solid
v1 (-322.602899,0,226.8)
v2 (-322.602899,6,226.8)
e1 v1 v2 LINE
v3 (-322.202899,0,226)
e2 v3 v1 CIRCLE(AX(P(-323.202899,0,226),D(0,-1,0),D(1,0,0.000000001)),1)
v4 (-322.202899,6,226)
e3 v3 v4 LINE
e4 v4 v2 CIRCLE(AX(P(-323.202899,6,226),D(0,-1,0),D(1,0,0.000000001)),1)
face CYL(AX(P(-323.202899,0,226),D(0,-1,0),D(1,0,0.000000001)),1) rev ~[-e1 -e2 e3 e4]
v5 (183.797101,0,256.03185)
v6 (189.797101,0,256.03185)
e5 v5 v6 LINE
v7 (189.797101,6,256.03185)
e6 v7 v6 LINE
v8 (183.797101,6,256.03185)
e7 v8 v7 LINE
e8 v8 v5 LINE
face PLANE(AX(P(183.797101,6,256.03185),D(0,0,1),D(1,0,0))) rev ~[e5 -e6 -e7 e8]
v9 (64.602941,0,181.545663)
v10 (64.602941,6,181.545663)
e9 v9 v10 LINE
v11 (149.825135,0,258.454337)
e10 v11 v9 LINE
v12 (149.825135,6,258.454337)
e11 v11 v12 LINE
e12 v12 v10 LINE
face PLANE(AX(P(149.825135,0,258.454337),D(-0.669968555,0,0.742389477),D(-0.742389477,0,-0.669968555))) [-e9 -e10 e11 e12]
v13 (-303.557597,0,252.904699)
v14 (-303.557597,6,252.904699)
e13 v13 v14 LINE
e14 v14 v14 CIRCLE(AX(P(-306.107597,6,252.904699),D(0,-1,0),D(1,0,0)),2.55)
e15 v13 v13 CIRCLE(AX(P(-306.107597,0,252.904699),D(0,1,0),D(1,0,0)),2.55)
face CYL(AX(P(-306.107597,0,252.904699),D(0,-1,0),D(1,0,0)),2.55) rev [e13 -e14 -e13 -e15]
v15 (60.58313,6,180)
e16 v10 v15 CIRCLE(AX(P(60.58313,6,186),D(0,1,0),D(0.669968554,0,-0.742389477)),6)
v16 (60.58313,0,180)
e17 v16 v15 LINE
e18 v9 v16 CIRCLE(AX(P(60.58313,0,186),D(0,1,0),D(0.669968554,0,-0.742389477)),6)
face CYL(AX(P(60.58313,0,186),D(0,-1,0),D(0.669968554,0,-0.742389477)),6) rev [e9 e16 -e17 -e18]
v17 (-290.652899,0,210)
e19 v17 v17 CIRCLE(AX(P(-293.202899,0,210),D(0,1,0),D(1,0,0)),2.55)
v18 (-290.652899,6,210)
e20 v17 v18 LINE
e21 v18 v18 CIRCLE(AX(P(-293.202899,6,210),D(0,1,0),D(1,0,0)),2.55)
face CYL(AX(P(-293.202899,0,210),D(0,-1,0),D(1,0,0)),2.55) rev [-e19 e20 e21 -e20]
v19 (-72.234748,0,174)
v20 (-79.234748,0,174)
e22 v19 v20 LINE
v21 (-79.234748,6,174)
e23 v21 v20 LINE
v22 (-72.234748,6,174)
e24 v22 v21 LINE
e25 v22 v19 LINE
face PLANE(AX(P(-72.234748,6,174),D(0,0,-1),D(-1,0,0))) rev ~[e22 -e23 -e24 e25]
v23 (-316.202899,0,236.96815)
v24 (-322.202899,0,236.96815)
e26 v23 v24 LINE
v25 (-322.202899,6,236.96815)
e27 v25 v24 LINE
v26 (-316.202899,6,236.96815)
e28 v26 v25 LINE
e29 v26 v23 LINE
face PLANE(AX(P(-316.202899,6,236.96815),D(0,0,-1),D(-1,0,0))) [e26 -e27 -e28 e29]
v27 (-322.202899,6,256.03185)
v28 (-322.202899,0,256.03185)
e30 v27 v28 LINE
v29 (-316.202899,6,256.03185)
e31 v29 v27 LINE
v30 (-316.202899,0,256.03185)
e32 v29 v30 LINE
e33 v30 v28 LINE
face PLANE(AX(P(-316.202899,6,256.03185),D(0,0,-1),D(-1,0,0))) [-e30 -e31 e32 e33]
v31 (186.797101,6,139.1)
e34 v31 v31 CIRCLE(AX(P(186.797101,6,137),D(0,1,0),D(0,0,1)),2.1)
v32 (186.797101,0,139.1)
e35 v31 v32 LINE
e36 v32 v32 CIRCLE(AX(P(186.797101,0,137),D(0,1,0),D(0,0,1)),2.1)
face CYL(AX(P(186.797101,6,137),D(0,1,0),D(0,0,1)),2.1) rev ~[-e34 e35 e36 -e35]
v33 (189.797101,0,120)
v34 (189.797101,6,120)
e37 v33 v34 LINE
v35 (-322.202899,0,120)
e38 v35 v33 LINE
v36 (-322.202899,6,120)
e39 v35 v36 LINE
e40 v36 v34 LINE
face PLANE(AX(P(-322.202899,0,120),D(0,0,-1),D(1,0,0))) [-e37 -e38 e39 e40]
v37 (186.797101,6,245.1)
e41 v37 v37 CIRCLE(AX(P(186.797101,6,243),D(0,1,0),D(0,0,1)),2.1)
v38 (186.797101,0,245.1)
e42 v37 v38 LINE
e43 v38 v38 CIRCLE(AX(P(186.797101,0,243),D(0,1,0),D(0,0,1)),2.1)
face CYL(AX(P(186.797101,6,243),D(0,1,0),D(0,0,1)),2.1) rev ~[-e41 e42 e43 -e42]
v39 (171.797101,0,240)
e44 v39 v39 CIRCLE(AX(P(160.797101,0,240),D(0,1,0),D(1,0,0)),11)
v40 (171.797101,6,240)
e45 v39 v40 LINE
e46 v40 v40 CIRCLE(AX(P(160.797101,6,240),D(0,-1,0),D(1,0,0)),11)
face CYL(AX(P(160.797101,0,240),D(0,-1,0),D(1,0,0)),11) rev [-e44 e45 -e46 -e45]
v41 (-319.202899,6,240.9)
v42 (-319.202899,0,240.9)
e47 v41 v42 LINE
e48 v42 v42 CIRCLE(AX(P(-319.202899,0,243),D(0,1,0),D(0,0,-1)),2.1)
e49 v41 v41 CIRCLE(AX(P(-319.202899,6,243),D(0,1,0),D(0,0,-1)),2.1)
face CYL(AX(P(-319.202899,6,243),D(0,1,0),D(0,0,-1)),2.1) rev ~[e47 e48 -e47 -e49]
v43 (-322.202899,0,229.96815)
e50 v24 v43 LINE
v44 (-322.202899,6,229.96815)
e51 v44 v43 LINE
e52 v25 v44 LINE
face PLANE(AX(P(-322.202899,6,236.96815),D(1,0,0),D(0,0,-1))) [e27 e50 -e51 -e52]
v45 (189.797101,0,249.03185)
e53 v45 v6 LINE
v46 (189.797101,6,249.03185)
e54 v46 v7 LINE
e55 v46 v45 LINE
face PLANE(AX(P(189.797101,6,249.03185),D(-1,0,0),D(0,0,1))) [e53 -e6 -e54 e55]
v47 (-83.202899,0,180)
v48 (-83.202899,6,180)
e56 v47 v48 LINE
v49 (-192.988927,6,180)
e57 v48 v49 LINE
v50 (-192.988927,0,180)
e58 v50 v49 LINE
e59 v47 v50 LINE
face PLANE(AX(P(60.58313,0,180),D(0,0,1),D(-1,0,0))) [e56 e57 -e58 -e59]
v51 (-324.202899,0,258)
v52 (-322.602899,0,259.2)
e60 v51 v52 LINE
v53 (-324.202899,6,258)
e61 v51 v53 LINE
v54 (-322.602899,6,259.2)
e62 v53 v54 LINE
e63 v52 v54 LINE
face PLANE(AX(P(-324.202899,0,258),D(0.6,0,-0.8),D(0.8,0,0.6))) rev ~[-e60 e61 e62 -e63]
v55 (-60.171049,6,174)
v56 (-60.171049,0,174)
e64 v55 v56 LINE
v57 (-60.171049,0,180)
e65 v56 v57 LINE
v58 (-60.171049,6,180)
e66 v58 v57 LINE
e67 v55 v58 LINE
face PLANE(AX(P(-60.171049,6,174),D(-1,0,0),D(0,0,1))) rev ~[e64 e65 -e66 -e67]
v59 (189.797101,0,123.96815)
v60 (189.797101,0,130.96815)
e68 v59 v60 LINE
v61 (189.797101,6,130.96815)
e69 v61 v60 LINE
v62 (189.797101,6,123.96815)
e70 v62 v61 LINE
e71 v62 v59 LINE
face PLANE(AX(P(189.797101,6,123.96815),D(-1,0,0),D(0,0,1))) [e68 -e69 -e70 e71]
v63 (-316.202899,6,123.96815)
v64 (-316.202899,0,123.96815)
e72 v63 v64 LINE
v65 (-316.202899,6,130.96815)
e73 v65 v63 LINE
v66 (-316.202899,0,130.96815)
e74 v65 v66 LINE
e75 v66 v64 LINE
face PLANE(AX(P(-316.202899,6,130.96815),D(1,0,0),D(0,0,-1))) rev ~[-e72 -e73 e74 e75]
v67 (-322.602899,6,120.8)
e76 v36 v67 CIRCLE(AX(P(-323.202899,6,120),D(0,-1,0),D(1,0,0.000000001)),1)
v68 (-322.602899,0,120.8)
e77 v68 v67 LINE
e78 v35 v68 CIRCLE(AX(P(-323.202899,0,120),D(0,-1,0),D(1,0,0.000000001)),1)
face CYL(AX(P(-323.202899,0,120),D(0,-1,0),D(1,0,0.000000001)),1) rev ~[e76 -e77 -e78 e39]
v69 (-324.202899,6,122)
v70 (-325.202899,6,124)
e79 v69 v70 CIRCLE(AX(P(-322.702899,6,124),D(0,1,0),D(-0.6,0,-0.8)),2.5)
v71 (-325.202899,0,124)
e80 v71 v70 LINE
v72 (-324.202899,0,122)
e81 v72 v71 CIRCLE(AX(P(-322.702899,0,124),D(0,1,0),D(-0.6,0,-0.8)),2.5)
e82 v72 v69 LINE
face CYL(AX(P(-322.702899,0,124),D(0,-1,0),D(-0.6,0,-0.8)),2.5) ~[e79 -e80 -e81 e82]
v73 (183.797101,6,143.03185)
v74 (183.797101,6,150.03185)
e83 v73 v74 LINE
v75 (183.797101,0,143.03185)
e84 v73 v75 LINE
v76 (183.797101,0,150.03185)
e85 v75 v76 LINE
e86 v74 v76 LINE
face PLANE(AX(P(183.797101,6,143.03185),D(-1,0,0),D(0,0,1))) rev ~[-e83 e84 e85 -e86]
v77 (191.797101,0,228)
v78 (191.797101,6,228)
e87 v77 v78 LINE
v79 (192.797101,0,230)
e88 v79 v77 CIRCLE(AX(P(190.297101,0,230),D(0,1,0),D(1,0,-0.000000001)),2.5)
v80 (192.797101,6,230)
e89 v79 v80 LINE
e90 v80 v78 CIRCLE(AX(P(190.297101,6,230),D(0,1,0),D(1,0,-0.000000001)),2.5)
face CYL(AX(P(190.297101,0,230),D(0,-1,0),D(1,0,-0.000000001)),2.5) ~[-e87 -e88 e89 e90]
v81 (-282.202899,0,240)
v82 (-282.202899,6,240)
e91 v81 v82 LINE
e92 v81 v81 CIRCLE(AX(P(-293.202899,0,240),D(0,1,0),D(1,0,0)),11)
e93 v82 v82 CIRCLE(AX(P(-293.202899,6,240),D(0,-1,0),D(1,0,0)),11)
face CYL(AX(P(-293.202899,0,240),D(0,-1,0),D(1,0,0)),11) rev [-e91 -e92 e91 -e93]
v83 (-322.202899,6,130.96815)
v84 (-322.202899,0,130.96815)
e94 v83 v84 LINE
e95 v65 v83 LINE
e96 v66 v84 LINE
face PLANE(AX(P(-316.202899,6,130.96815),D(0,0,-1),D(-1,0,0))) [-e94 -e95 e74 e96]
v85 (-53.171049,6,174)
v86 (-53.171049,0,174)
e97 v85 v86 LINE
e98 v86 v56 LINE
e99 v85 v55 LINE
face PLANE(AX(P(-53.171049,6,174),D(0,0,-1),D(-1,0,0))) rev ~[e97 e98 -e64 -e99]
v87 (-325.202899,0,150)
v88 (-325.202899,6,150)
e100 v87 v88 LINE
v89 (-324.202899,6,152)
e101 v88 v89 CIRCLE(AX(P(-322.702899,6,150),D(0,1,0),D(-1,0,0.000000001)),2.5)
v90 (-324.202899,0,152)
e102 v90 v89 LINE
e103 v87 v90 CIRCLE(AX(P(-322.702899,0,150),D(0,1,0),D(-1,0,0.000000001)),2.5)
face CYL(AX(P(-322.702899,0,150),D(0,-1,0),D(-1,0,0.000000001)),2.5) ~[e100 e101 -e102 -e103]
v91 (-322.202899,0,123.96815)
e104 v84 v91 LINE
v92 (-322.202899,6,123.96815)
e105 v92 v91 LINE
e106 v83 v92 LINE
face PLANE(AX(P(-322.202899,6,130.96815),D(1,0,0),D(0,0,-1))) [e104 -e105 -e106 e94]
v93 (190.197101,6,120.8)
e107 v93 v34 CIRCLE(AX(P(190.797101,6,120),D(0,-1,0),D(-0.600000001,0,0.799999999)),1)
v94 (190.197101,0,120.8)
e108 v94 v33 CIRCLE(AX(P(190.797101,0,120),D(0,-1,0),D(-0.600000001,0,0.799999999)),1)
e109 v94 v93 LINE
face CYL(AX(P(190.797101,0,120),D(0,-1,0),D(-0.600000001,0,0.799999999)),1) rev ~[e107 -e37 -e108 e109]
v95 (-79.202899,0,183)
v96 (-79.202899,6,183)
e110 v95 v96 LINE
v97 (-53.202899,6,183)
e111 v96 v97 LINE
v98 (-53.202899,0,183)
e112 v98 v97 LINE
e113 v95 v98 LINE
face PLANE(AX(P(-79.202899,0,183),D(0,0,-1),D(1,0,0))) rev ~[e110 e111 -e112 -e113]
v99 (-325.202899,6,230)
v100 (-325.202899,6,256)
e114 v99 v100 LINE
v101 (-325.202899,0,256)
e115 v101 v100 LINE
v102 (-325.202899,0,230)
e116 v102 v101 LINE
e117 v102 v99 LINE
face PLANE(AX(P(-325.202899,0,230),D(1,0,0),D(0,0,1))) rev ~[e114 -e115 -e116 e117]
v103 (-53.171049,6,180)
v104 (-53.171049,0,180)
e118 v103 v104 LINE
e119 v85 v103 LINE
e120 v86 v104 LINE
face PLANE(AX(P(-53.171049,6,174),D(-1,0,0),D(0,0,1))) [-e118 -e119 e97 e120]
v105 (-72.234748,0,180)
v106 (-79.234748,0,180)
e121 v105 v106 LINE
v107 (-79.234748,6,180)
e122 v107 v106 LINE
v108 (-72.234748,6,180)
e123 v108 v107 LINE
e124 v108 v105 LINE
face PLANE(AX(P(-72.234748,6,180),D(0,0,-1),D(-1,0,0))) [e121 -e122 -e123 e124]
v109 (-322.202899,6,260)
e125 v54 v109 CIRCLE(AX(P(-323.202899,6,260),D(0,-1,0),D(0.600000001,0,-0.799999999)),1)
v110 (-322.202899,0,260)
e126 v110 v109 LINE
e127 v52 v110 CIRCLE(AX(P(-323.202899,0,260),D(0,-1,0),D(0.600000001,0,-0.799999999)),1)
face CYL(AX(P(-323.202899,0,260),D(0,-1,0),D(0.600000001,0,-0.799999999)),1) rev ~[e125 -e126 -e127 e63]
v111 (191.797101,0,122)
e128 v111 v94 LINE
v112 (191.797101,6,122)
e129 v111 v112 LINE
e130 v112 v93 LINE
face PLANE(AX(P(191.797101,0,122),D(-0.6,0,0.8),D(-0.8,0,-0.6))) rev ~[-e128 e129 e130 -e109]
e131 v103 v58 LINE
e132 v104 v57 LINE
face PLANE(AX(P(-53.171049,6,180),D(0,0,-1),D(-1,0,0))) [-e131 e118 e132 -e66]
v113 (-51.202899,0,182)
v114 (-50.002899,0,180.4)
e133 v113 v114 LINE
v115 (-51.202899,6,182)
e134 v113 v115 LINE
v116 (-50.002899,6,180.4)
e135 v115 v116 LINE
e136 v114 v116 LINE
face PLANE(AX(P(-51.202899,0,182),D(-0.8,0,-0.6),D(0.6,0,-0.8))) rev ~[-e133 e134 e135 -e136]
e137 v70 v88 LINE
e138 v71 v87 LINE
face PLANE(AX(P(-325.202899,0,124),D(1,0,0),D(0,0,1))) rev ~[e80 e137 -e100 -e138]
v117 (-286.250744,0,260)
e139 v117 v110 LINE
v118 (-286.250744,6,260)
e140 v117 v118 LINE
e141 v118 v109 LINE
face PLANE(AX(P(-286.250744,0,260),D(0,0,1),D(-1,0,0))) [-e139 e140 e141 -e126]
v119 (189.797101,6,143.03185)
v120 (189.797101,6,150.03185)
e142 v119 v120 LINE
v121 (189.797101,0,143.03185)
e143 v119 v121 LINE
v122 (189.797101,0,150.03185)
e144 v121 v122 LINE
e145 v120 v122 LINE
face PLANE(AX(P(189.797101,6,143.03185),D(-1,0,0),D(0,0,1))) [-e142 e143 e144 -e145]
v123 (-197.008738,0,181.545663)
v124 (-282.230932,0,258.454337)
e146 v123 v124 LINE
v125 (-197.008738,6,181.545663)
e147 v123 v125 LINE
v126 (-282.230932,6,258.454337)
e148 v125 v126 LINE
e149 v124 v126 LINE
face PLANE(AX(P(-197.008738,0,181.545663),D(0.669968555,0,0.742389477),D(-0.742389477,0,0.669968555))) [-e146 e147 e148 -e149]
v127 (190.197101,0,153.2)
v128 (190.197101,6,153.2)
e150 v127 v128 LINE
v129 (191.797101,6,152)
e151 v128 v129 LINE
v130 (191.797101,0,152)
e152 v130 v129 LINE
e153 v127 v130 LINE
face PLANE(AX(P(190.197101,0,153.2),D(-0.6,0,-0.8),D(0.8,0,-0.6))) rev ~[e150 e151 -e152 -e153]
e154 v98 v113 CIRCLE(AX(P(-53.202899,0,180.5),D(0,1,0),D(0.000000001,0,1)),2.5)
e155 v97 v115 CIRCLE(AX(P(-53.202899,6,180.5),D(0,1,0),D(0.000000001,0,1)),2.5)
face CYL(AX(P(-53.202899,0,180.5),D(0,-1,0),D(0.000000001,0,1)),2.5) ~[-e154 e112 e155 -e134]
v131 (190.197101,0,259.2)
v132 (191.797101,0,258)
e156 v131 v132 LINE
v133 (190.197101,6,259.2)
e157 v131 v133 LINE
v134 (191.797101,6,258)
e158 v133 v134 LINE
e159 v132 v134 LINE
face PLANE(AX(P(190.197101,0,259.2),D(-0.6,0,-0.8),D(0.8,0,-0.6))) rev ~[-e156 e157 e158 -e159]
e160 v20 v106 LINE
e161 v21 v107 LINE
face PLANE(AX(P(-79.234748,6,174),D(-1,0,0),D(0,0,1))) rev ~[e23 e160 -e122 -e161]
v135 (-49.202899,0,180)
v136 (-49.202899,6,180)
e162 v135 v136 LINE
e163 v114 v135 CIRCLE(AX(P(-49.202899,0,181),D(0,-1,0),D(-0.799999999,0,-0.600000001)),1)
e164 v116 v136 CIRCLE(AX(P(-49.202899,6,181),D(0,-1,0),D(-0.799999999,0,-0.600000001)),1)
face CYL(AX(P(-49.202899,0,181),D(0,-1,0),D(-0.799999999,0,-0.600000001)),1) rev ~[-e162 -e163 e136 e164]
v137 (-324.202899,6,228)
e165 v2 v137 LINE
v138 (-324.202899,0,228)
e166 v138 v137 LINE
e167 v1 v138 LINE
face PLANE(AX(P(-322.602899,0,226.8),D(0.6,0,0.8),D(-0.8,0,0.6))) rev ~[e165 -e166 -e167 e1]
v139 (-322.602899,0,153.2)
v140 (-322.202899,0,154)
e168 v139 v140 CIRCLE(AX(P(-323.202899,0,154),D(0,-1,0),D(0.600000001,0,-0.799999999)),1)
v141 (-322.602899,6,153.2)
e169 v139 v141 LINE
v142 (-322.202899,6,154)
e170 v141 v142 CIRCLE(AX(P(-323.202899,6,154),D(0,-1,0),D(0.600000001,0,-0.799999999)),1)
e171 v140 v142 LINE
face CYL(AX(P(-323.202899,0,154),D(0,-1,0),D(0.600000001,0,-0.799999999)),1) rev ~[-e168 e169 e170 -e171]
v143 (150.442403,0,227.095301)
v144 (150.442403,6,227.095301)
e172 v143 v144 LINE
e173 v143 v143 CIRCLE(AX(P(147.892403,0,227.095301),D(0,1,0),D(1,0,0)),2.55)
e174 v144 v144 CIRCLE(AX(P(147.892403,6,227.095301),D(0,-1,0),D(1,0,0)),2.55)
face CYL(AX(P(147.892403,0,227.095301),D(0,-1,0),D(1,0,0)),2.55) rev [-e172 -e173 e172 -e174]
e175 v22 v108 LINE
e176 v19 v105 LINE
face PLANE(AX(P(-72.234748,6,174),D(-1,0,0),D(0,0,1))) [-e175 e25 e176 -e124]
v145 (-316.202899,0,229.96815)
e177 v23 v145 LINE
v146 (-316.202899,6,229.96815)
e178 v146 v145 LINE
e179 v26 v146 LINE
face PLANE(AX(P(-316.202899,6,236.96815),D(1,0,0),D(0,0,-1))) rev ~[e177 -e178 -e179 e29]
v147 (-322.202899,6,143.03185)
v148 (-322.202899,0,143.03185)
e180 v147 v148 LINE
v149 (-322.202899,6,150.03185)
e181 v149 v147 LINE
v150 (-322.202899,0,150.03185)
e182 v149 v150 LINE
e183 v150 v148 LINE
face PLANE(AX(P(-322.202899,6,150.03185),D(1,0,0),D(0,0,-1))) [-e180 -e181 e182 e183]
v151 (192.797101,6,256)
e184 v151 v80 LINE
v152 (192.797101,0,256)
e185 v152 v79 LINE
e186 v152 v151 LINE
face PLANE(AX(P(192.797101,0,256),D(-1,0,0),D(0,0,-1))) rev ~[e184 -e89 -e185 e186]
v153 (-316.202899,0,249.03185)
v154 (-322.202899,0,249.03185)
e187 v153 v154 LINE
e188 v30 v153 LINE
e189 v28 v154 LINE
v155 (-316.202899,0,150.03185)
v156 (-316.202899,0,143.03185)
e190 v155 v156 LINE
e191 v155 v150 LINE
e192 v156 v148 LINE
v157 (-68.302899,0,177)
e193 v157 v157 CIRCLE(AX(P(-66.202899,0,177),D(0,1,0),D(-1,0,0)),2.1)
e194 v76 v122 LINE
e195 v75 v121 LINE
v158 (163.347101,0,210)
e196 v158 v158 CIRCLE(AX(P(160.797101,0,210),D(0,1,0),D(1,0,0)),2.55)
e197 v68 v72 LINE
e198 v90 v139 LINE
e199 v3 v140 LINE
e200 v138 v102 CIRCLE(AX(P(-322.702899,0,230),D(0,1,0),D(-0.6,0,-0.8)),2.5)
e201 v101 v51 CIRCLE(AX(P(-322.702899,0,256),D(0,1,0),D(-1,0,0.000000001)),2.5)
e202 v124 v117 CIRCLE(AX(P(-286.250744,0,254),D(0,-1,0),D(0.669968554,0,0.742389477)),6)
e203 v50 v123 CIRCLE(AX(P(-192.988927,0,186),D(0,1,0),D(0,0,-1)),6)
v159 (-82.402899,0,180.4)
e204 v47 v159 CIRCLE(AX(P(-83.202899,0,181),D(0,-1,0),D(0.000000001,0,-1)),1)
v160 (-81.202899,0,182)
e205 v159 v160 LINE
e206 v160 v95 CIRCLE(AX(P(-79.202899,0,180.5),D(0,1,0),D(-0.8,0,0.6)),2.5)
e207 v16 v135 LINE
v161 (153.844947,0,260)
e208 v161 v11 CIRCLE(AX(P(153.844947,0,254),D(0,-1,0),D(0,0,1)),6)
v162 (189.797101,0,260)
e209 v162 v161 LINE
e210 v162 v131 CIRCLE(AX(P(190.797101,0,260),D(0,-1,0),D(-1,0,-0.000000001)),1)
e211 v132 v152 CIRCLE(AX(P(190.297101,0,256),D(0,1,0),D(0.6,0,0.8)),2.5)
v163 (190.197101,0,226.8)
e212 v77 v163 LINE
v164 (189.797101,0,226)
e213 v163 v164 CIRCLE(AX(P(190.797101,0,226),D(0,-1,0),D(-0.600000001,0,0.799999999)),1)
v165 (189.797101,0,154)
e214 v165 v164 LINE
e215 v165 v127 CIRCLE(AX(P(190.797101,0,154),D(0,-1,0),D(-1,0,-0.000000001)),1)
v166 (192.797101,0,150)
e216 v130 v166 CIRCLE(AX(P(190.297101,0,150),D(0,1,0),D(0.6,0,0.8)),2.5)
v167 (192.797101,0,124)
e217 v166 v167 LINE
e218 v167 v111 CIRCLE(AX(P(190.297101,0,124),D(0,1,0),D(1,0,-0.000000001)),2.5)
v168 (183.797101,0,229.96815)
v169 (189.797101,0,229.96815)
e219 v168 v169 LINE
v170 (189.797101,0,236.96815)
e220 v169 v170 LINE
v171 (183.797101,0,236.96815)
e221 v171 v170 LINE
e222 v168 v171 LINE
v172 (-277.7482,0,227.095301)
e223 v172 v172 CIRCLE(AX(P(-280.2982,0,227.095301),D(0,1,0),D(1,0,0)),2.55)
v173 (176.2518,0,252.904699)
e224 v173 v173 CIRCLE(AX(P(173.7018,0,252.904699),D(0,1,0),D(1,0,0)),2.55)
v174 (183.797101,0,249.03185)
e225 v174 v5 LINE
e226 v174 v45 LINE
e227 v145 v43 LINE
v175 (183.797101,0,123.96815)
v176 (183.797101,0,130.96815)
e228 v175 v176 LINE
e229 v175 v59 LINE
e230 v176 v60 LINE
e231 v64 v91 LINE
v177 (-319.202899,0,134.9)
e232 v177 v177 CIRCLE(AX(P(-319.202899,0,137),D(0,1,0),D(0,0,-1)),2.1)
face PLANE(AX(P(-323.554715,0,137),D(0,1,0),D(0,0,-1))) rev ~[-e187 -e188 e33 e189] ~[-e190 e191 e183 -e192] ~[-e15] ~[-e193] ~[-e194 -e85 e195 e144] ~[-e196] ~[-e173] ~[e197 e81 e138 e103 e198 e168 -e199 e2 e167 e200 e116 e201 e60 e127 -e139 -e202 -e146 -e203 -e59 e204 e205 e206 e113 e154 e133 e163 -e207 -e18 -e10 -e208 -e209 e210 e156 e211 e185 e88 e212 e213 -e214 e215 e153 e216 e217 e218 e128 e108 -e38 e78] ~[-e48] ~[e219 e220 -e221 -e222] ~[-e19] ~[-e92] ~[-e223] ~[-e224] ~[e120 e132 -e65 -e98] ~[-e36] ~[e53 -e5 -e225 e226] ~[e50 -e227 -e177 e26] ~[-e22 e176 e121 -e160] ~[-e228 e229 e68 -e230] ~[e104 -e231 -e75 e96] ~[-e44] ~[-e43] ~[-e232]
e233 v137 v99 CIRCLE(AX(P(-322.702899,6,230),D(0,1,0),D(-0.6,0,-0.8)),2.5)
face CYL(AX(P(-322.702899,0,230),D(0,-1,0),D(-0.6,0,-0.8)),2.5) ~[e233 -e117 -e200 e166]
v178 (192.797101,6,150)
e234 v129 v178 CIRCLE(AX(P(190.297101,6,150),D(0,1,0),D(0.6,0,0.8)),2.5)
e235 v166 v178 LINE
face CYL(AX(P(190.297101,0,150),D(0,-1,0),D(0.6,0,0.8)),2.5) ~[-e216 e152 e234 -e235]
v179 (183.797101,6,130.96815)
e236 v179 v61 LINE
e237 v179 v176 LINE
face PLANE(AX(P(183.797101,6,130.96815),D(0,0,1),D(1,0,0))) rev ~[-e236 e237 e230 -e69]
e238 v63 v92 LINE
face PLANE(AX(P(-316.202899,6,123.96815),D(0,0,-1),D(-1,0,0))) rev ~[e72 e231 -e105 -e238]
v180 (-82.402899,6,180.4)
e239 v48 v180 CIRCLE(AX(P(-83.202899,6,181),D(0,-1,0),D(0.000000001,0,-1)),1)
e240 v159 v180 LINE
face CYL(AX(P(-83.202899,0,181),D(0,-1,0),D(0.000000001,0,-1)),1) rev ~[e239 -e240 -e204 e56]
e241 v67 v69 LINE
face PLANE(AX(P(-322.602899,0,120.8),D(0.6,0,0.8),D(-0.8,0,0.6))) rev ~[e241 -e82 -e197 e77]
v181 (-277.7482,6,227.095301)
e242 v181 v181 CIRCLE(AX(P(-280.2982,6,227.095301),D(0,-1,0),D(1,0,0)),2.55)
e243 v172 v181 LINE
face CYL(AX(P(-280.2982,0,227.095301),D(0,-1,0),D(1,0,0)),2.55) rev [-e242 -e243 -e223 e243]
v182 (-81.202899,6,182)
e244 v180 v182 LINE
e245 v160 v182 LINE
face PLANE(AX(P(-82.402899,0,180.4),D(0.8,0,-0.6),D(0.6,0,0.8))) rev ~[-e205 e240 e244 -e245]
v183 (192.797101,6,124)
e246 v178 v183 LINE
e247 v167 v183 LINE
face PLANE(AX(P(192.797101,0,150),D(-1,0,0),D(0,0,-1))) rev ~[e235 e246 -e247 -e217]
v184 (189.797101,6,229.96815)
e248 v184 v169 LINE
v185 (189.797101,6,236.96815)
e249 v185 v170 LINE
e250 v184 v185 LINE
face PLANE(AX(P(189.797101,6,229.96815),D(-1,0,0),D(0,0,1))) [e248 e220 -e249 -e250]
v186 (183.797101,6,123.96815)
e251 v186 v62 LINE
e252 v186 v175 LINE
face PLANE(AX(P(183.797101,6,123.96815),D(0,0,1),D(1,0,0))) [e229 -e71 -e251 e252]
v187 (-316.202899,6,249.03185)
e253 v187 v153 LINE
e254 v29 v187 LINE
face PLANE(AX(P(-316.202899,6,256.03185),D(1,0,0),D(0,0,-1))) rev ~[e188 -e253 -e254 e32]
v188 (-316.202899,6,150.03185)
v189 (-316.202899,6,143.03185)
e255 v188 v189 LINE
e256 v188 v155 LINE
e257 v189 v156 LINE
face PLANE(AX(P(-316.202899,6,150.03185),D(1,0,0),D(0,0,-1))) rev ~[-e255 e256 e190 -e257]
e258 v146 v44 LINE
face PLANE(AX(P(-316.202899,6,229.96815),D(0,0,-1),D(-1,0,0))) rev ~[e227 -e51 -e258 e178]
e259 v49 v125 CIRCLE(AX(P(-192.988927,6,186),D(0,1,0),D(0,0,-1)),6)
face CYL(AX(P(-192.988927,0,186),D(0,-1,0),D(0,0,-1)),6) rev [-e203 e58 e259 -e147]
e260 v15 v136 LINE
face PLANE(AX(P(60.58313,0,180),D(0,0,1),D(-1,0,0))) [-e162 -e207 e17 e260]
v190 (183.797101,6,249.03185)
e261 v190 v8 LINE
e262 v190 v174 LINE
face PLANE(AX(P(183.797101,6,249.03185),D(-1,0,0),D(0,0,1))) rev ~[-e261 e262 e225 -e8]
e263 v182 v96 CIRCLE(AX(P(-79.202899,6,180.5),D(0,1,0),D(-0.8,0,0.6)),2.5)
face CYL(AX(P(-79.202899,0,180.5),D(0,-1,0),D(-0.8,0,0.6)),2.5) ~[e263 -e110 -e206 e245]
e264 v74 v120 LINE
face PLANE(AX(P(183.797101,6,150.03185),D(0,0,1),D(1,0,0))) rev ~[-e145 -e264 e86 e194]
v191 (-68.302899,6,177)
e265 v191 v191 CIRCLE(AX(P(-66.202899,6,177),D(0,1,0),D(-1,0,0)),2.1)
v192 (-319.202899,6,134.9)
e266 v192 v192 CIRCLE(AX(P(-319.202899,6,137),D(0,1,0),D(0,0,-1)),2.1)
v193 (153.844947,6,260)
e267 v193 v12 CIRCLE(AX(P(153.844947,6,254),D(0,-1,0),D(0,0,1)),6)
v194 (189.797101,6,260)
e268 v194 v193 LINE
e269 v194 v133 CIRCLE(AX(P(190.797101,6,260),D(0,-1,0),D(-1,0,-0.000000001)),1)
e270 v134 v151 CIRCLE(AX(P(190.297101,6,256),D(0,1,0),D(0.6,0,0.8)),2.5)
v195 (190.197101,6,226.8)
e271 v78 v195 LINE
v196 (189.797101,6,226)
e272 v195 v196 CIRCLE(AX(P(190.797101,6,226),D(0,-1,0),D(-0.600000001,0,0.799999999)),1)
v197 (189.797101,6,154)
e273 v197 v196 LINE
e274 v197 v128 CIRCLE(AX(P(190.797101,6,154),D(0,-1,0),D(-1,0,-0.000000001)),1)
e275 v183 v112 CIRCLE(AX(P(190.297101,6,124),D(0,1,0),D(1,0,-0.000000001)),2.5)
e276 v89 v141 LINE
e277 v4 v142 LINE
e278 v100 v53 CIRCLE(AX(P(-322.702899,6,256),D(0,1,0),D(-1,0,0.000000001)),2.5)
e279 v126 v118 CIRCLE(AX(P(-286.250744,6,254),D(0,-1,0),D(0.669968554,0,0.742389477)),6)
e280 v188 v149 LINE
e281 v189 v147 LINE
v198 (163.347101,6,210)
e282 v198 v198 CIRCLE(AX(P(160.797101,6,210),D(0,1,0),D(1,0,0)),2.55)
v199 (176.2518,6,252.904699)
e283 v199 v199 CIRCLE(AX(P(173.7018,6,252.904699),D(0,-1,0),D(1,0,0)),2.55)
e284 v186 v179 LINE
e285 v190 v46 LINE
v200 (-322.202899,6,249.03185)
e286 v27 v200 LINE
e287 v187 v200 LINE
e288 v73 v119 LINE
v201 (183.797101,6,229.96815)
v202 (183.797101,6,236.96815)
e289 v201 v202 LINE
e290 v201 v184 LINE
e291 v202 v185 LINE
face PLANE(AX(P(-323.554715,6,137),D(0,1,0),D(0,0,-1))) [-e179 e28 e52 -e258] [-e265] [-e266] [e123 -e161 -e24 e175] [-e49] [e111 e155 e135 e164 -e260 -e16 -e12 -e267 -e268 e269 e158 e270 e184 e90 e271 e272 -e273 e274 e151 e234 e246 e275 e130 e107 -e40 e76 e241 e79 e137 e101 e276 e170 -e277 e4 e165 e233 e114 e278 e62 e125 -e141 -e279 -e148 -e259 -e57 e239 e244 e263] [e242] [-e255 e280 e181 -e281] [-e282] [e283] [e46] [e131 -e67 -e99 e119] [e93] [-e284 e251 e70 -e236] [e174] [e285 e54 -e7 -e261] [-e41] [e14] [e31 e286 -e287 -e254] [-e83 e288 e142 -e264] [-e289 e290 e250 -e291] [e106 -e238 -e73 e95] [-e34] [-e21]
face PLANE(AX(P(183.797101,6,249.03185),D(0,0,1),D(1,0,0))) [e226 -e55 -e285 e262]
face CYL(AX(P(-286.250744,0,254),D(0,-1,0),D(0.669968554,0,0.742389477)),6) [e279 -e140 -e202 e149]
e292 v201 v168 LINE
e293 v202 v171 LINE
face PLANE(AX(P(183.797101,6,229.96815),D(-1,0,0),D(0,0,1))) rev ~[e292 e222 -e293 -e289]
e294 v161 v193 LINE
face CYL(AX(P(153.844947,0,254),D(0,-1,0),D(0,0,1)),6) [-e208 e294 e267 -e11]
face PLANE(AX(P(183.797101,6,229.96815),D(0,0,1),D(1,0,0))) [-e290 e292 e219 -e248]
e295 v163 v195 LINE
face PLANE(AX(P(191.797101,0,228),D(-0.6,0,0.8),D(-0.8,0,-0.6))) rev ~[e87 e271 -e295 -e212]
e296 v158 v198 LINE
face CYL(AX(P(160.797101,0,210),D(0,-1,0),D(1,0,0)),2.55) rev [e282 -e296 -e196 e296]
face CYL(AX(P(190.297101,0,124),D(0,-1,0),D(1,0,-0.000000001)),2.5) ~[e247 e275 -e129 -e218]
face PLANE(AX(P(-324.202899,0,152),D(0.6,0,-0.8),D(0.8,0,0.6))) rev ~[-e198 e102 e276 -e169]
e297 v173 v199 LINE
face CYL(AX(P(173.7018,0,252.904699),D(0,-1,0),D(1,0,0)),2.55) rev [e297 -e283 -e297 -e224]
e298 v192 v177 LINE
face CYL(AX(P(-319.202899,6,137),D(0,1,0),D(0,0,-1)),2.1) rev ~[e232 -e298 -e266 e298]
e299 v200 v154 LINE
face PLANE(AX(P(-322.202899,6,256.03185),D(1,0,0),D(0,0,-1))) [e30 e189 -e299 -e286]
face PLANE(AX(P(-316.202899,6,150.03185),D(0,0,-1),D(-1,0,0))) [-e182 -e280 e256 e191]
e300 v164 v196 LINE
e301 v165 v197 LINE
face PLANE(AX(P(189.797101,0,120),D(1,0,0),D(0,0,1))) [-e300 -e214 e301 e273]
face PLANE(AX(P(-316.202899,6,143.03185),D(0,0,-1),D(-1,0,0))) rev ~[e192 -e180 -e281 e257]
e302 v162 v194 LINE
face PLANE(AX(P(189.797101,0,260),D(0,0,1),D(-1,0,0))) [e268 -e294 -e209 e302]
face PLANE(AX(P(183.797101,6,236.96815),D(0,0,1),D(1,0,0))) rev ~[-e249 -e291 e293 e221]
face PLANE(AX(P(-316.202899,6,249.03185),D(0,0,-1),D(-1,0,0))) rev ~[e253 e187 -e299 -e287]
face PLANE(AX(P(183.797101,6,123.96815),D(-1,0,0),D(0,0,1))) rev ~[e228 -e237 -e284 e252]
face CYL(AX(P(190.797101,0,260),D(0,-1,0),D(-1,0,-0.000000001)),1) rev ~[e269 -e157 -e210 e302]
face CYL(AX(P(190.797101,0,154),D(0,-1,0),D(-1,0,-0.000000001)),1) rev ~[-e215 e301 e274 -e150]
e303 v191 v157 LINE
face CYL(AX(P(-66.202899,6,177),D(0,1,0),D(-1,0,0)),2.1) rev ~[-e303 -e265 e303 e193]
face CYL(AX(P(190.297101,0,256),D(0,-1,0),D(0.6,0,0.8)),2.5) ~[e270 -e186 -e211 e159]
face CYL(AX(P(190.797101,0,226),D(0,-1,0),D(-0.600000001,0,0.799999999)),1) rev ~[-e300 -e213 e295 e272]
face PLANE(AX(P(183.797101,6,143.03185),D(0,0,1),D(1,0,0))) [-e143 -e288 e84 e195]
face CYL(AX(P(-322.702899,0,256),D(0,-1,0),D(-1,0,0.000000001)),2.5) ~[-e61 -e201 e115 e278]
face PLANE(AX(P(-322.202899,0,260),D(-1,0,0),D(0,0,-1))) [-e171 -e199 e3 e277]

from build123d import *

# Parameters (mm, degrees)
SKETCH_1_R               = 2.55
EXTRUDE_1_DEPTH          = 6
SKETCH_7_R               = 11
SKETCH_7_R_2             = 2.55
CUT_EXTRUDE_1_DEPTH      = 14
CUT_EXTRUDE_1_DEPTH_BACK = 5
SKETCH_8_R               = 11
SKETCH_8_R_2             = 2.55
CUT_EXTRUDE_2_DEPTH      = 11
CUT_EXTRUDE_2_DEPTH_BACK = 5
EXTRUDE_2_DEPTH          = 6
SKETCH_3_R               = 2.1
SKETCH_3_W               = 7
SKETCH_3_H               = 6
CUT_EXTRUDE_12_DEPTH     = 7
EXTRUDE_21_DEPTH         = 6
SKETCH_31_R              = 2.1
SKETCH_31_W              = 7
SKETCH_31_H              = 6
CUT_EXTRUDE_13_DEPTH     = 7
EXTRUDE_22_DEPTH         = 6
SKETCH_32_R              = 2.1
SKETCH_32_W              = 7
SKETCH_32_H              = 6
CUT_EXTRUDE_14_DEPTH     = 7
EXTRUDE_23_DEPTH         = 6
SKETCH_33_R              = 2.1
SKETCH_33_W              = 7
SKETCH_33_H              = 6
CUT_EXTRUDE_15_DEPTH     = 7
EXTRUDE_24_DEPTH         = 6
SKETCH_34_R              = 2.1
SKETCH_34_W              = 7
SKETCH_34_H              = 6
CUT_EXTRUDE_16_DEPTH     = 7


with BuildPart() as part:
    # Эскиз1 → Бобышка-Вытянуть1 (new body)
    with BuildSketch(Plane(origin=(0, 0, 0), x_dir=(1, 0, 0), z_dir=(0, 1, 0))):
        with BuildLine():
            Line((-322.202898551, -260), (-322.202898551, -120))
            Line((-322.202898551, -120), (189.797101449, -120))
            Line((189.797101449, -120), (189.797101449, -260))
            Line((189.797101449, -260), (153.844946536, -260))
            ThreePointArc((153.844946536, -260), (151.691579542, -259.600268796), (149.825135208, -258.454336863))
            Line((149.825135208, -258.454336863), (64.602941314, -181.545663137))
            ThreePointArc((64.602941314, -181.545663137), (62.73649698, -180.399731204), (60.583129986, -180))
            Line((60.583129986, -180), (-192.988927088, -180))
            ThreePointArc((-192.988927088, -180), (-195.142294082, -180.399731204), (-197.008738416, -181.545663137))
            Line((-197.008738416, -181.545663137), (-282.230932309, -258.454336863))
            ThreePointArc((-282.230932309, -258.454336863), (-284.097376643, -259.600268796), (-286.250743637, -260))
            Line((-286.250743637, -260), (-322.202898551, -260))
        make_face()
        with Locations((-293.202898551, -210)):
            Circle(SKETCH_1_R, mode=Mode.SUBTRACT)
        with Locations((160.797101449, -210)):
            Circle(SKETCH_1_R, mode=Mode.SUBTRACT)
    extrude(amount=EXTRUDE_1_DEPTH)

    # Эскиз7 → Вырез-Вытянуть1 (cut, two sides)
    with BuildSketch(Plane(origin=(0, 0, 0), x_dir=(1, 0, 0), z_dir=(0, 1, 0))) as cut_extrude_1_sk:
        with Locations((-293.202898551, -240)):
            Circle(SKETCH_7_R)
        with Locations((-280.298199794, -227.095301243)):
            Circle(SKETCH_7_R_2)
        with Locations((-306.107597307, -252.904698757)):
            Circle(SKETCH_7_R_2)
    extrude(amount=CUT_EXTRUDE_1_DEPTH, mode=Mode.SUBTRACT)
    extrude(cut_extrude_1_sk.sketch, amount=-CUT_EXTRUDE_1_DEPTH_BACK, mode=Mode.SUBTRACT)

    # Эскиз8 → Вырез-Вытянуть2 (cut, two sides)
    with BuildSketch(Plane(origin=(0, 0, 0), x_dir=(1, 0, 0), z_dir=(0, 1, 0))) as cut_extrude_2_sk:
        with Locations((160.797101449, -240)):
            Circle(SKETCH_8_R)
        with Locations((147.892402692, -227.095301243)):
            Circle(SKETCH_8_R_2)
        with Locations((173.701800206, -252.904698757)):
            Circle(SKETCH_8_R_2)
    extrude(amount=CUT_EXTRUDE_2_DEPTH, mode=Mode.SUBTRACT)
    extrude(cut_extrude_2_sk.sketch, amount=-CUT_EXTRUDE_2_DEPTH_BACK, mode=Mode.SUBTRACT)

    # Эскиз2 → Бобышка-Вытянуть2 (add)
    with BuildSketch(Plane(origin=(139.797101449, 0, 243), x_dir=(0, 0, 1), z_dir=(0, 1, 0))):
        with BuildLine():
            Line((13, 53), (-13, 53))
            ThreePointArc((-13, 53), (-14.118033989, 52.736067977), (-15, 52))
            Line((-15, 52), (-16.2, 50.4))
            ThreePointArc((-16.2, 50.4), (-16.552786405, 50.105572809), (-17, 50))
            Line((-17, 50), (17, 50))
            ThreePointArc((17, 50), (16.552786405, 50.105572809), (16.2, 50.4))
            Line((16.2, 50.4), (15, 52))
            ThreePointArc((15, 52), (14.118033989, 52.736067977), (13, 53))
        make_face()
    extrude(amount=EXTRUDE_2_DEPTH)

    # Эскиз3 → Вырез-Вытянуть12 (cut, through all)
    with BuildSketch(Plane(origin=(139.797101449, 6, 243), x_dir=(0, 0, 1), z_dir=(0, 1, 0))):
        with Locations((0, 47)):
            Circle(SKETCH_3_R)
        with Locations((9.531849908, 47)):
            Rectangle(SKETCH_3_W, SKETCH_3_H)
        with Locations((-9.531849908, 47)):
            Rectangle(SKETCH_3_W, SKETCH_3_H)
    extrude(amount=-CUT_EXTRUDE_12_DEPTH, mode=Mode.SUBTRACT)

    # Эскиз21 → Бобышка-Вытянуть21 (add)
    with BuildSketch(Plane(origin=(139.797101449, 0, 137), x_dir=(0, 0, 1), z_dir=(0, 1, 0))):
        with BuildLine():
            Line((13, 53), (-13, 53))
            ThreePointArc((-13, 53), (-14.118033989, 52.736067977), (-15, 52))
            Line((-15, 52), (-16.2, 50.4))
            ThreePointArc((-16.2, 50.4), (-16.552786405, 50.105572809), (-17, 50))
            Line((-17, 50), (17, 50))
            ThreePointArc((17, 50), (16.552786405, 50.105572809), (16.2, 50.4))
            Line((16.2, 50.4), (15, 52))
            ThreePointArc((15, 52), (14.118033989, 52.736067977), (13, 53))
        make_face()
    extrude(amount=EXTRUDE_21_DEPTH)

    # Эскиз31 → Вырез-Вытянуть13 (cut, through all)
    with BuildSketch(Plane(origin=(139.797101449, 6, 137), x_dir=(0, 0, 1), z_dir=(0, 1, 0))):
        with Locations((0, 47)):
            Circle(SKETCH_31_R)
        with Locations((9.531849908, 47)):
            Rectangle(SKETCH_31_W, SKETCH_31_H)
        with Locations((-9.531849908, 47)):
            Rectangle(SKETCH_31_W, SKETCH_31_H)
    extrude(amount=-CUT_EXTRUDE_13_DEPTH, mode=Mode.SUBTRACT)

    # Эскиз22 → Бобышка-Вытянуть22 (add)
    with BuildSketch(Plane(origin=(-272.202898551, 0, 243), x_dir=(0, 0, -1), z_dir=(0, 1, 0))):
        with BuildLine():
            Line((13, 53), (-13, 53))
            ThreePointArc((-13, 53), (-14.118033989, 52.736067977), (-15, 52))
            Line((-15, 52), (-16.2, 50.4))
            ThreePointArc((-16.2, 50.4), (-16.552786405, 50.105572809), (-17, 50))
            Line((-17, 50), (17, 50))
            ThreePointArc((17, 50), (16.552786405, 50.105572809), (16.2, 50.4))
            Line((16.2, 50.4), (15, 52))
            ThreePointArc((15, 52), (14.118033989, 52.736067977), (13, 53))
        make_face()
    extrude(amount=EXTRUDE_22_DEPTH)

    # Эскиз32 → Вырез-Вытянуть14 (cut, through all)
    with BuildSketch(Plane(origin=(-272.202898551, 6, 243), x_dir=(0, 0, -1), z_dir=(0, 1, 0))):
        with Locations((0, 47)):
            Circle(SKETCH_32_R)
        with Locations((9.531849908, 47)):
            Rectangle(SKETCH_32_W, SKETCH_32_H)
        with Locations((-9.531849908, 47)):
            Rectangle(SKETCH_32_W, SKETCH_32_H)
    extrude(amount=-CUT_EXTRUDE_14_DEPTH, mode=Mode.SUBTRACT)

    # Эскиз23 → Бобышка-Вытянуть23 (add)
    with BuildSketch(Plane(origin=(-272.202898551, 0, 137), x_dir=(0, 0, -1), z_dir=(0, 1, 0))):
        with BuildLine():
            Line((13, 53), (-13, 53))
            ThreePointArc((-13, 53), (-14.118033989, 52.736067977), (-15, 52))
            Line((-15, 52), (-16.2, 50.4))
            ThreePointArc((-16.2, 50.4), (-16.552786405, 50.105572809), (-17, 50))
            Line((-17, 50), (17, 50))
            ThreePointArc((17, 50), (16.552786405, 50.105572809), (16.2, 50.4))
            Line((16.2, 50.4), (15, 52))
            ThreePointArc((15, 52), (14.118033989, 52.736067977), (13, 53))
        make_face()
    extrude(amount=EXTRUDE_23_DEPTH)

    # Эскиз33 → Вырез-Вытянуть15 (cut, through all)
    with BuildSketch(Plane(origin=(-272.202898551, 6, 137), x_dir=(0, 0, -1), z_dir=(0, 1, 0))):
        with Locations((0, 47)):
            Circle(SKETCH_33_R)
        with Locations((9.531849908, 47)):
            Rectangle(SKETCH_33_W, SKETCH_33_H)
        with Locations((-9.531849908, 47)):
            Rectangle(SKETCH_33_W, SKETCH_33_H)
    extrude(amount=-CUT_EXTRUDE_15_DEPTH, mode=Mode.SUBTRACT)

    # Эскиз24 → Бобышка-Вытянуть24 (add)
    with BuildSketch(Plane(origin=(-66.202898551, 0, 130), x_dir=(-1, 0, 0), z_dir=(0, 1, 0))):
        with BuildLine():
            Line((13, 53), (-13, 53))
            ThreePointArc((-13, 53), (-14.118033989, 52.736067977), (-15, 52))
            Line((-15, 52), (-16.2, 50.4))
            ThreePointArc((-16.2, 50.4), (-16.552786405, 50.105572809), (-17, 50))
            Line((-17, 50), (17, 50))
            ThreePointArc((17, 50), (16.552786405, 50.105572809), (16.2, 50.4))
            Line((16.2, 50.4), (15, 52))
            ThreePointArc((15, 52), (14.118033989, 52.736067977), (13, 53))
        make_face()
    extrude(amount=EXTRUDE_24_DEPTH)

    # Эскиз34 → Вырез-Вытянуть16 (cut, through all)
    with BuildSketch(Plane(origin=(-66.202898551, 6, 130), x_dir=(-1, 0, 0), z_dir=(0, 1, 0))):
        with Locations((0, 47)):
            Circle(SKETCH_34_R)
        with Locations((9.531849908, 47)):
            Rectangle(SKETCH_34_W, SKETCH_34_H)
        with Locations((-9.531849908, 47)):
            Rectangle(SKETCH_34_W, SKETCH_34_H)
    extrude(amount=-CUT_EXTRUDE_16_DEPTH, mode=Mode.SUBTRACT)


solid = part.part
